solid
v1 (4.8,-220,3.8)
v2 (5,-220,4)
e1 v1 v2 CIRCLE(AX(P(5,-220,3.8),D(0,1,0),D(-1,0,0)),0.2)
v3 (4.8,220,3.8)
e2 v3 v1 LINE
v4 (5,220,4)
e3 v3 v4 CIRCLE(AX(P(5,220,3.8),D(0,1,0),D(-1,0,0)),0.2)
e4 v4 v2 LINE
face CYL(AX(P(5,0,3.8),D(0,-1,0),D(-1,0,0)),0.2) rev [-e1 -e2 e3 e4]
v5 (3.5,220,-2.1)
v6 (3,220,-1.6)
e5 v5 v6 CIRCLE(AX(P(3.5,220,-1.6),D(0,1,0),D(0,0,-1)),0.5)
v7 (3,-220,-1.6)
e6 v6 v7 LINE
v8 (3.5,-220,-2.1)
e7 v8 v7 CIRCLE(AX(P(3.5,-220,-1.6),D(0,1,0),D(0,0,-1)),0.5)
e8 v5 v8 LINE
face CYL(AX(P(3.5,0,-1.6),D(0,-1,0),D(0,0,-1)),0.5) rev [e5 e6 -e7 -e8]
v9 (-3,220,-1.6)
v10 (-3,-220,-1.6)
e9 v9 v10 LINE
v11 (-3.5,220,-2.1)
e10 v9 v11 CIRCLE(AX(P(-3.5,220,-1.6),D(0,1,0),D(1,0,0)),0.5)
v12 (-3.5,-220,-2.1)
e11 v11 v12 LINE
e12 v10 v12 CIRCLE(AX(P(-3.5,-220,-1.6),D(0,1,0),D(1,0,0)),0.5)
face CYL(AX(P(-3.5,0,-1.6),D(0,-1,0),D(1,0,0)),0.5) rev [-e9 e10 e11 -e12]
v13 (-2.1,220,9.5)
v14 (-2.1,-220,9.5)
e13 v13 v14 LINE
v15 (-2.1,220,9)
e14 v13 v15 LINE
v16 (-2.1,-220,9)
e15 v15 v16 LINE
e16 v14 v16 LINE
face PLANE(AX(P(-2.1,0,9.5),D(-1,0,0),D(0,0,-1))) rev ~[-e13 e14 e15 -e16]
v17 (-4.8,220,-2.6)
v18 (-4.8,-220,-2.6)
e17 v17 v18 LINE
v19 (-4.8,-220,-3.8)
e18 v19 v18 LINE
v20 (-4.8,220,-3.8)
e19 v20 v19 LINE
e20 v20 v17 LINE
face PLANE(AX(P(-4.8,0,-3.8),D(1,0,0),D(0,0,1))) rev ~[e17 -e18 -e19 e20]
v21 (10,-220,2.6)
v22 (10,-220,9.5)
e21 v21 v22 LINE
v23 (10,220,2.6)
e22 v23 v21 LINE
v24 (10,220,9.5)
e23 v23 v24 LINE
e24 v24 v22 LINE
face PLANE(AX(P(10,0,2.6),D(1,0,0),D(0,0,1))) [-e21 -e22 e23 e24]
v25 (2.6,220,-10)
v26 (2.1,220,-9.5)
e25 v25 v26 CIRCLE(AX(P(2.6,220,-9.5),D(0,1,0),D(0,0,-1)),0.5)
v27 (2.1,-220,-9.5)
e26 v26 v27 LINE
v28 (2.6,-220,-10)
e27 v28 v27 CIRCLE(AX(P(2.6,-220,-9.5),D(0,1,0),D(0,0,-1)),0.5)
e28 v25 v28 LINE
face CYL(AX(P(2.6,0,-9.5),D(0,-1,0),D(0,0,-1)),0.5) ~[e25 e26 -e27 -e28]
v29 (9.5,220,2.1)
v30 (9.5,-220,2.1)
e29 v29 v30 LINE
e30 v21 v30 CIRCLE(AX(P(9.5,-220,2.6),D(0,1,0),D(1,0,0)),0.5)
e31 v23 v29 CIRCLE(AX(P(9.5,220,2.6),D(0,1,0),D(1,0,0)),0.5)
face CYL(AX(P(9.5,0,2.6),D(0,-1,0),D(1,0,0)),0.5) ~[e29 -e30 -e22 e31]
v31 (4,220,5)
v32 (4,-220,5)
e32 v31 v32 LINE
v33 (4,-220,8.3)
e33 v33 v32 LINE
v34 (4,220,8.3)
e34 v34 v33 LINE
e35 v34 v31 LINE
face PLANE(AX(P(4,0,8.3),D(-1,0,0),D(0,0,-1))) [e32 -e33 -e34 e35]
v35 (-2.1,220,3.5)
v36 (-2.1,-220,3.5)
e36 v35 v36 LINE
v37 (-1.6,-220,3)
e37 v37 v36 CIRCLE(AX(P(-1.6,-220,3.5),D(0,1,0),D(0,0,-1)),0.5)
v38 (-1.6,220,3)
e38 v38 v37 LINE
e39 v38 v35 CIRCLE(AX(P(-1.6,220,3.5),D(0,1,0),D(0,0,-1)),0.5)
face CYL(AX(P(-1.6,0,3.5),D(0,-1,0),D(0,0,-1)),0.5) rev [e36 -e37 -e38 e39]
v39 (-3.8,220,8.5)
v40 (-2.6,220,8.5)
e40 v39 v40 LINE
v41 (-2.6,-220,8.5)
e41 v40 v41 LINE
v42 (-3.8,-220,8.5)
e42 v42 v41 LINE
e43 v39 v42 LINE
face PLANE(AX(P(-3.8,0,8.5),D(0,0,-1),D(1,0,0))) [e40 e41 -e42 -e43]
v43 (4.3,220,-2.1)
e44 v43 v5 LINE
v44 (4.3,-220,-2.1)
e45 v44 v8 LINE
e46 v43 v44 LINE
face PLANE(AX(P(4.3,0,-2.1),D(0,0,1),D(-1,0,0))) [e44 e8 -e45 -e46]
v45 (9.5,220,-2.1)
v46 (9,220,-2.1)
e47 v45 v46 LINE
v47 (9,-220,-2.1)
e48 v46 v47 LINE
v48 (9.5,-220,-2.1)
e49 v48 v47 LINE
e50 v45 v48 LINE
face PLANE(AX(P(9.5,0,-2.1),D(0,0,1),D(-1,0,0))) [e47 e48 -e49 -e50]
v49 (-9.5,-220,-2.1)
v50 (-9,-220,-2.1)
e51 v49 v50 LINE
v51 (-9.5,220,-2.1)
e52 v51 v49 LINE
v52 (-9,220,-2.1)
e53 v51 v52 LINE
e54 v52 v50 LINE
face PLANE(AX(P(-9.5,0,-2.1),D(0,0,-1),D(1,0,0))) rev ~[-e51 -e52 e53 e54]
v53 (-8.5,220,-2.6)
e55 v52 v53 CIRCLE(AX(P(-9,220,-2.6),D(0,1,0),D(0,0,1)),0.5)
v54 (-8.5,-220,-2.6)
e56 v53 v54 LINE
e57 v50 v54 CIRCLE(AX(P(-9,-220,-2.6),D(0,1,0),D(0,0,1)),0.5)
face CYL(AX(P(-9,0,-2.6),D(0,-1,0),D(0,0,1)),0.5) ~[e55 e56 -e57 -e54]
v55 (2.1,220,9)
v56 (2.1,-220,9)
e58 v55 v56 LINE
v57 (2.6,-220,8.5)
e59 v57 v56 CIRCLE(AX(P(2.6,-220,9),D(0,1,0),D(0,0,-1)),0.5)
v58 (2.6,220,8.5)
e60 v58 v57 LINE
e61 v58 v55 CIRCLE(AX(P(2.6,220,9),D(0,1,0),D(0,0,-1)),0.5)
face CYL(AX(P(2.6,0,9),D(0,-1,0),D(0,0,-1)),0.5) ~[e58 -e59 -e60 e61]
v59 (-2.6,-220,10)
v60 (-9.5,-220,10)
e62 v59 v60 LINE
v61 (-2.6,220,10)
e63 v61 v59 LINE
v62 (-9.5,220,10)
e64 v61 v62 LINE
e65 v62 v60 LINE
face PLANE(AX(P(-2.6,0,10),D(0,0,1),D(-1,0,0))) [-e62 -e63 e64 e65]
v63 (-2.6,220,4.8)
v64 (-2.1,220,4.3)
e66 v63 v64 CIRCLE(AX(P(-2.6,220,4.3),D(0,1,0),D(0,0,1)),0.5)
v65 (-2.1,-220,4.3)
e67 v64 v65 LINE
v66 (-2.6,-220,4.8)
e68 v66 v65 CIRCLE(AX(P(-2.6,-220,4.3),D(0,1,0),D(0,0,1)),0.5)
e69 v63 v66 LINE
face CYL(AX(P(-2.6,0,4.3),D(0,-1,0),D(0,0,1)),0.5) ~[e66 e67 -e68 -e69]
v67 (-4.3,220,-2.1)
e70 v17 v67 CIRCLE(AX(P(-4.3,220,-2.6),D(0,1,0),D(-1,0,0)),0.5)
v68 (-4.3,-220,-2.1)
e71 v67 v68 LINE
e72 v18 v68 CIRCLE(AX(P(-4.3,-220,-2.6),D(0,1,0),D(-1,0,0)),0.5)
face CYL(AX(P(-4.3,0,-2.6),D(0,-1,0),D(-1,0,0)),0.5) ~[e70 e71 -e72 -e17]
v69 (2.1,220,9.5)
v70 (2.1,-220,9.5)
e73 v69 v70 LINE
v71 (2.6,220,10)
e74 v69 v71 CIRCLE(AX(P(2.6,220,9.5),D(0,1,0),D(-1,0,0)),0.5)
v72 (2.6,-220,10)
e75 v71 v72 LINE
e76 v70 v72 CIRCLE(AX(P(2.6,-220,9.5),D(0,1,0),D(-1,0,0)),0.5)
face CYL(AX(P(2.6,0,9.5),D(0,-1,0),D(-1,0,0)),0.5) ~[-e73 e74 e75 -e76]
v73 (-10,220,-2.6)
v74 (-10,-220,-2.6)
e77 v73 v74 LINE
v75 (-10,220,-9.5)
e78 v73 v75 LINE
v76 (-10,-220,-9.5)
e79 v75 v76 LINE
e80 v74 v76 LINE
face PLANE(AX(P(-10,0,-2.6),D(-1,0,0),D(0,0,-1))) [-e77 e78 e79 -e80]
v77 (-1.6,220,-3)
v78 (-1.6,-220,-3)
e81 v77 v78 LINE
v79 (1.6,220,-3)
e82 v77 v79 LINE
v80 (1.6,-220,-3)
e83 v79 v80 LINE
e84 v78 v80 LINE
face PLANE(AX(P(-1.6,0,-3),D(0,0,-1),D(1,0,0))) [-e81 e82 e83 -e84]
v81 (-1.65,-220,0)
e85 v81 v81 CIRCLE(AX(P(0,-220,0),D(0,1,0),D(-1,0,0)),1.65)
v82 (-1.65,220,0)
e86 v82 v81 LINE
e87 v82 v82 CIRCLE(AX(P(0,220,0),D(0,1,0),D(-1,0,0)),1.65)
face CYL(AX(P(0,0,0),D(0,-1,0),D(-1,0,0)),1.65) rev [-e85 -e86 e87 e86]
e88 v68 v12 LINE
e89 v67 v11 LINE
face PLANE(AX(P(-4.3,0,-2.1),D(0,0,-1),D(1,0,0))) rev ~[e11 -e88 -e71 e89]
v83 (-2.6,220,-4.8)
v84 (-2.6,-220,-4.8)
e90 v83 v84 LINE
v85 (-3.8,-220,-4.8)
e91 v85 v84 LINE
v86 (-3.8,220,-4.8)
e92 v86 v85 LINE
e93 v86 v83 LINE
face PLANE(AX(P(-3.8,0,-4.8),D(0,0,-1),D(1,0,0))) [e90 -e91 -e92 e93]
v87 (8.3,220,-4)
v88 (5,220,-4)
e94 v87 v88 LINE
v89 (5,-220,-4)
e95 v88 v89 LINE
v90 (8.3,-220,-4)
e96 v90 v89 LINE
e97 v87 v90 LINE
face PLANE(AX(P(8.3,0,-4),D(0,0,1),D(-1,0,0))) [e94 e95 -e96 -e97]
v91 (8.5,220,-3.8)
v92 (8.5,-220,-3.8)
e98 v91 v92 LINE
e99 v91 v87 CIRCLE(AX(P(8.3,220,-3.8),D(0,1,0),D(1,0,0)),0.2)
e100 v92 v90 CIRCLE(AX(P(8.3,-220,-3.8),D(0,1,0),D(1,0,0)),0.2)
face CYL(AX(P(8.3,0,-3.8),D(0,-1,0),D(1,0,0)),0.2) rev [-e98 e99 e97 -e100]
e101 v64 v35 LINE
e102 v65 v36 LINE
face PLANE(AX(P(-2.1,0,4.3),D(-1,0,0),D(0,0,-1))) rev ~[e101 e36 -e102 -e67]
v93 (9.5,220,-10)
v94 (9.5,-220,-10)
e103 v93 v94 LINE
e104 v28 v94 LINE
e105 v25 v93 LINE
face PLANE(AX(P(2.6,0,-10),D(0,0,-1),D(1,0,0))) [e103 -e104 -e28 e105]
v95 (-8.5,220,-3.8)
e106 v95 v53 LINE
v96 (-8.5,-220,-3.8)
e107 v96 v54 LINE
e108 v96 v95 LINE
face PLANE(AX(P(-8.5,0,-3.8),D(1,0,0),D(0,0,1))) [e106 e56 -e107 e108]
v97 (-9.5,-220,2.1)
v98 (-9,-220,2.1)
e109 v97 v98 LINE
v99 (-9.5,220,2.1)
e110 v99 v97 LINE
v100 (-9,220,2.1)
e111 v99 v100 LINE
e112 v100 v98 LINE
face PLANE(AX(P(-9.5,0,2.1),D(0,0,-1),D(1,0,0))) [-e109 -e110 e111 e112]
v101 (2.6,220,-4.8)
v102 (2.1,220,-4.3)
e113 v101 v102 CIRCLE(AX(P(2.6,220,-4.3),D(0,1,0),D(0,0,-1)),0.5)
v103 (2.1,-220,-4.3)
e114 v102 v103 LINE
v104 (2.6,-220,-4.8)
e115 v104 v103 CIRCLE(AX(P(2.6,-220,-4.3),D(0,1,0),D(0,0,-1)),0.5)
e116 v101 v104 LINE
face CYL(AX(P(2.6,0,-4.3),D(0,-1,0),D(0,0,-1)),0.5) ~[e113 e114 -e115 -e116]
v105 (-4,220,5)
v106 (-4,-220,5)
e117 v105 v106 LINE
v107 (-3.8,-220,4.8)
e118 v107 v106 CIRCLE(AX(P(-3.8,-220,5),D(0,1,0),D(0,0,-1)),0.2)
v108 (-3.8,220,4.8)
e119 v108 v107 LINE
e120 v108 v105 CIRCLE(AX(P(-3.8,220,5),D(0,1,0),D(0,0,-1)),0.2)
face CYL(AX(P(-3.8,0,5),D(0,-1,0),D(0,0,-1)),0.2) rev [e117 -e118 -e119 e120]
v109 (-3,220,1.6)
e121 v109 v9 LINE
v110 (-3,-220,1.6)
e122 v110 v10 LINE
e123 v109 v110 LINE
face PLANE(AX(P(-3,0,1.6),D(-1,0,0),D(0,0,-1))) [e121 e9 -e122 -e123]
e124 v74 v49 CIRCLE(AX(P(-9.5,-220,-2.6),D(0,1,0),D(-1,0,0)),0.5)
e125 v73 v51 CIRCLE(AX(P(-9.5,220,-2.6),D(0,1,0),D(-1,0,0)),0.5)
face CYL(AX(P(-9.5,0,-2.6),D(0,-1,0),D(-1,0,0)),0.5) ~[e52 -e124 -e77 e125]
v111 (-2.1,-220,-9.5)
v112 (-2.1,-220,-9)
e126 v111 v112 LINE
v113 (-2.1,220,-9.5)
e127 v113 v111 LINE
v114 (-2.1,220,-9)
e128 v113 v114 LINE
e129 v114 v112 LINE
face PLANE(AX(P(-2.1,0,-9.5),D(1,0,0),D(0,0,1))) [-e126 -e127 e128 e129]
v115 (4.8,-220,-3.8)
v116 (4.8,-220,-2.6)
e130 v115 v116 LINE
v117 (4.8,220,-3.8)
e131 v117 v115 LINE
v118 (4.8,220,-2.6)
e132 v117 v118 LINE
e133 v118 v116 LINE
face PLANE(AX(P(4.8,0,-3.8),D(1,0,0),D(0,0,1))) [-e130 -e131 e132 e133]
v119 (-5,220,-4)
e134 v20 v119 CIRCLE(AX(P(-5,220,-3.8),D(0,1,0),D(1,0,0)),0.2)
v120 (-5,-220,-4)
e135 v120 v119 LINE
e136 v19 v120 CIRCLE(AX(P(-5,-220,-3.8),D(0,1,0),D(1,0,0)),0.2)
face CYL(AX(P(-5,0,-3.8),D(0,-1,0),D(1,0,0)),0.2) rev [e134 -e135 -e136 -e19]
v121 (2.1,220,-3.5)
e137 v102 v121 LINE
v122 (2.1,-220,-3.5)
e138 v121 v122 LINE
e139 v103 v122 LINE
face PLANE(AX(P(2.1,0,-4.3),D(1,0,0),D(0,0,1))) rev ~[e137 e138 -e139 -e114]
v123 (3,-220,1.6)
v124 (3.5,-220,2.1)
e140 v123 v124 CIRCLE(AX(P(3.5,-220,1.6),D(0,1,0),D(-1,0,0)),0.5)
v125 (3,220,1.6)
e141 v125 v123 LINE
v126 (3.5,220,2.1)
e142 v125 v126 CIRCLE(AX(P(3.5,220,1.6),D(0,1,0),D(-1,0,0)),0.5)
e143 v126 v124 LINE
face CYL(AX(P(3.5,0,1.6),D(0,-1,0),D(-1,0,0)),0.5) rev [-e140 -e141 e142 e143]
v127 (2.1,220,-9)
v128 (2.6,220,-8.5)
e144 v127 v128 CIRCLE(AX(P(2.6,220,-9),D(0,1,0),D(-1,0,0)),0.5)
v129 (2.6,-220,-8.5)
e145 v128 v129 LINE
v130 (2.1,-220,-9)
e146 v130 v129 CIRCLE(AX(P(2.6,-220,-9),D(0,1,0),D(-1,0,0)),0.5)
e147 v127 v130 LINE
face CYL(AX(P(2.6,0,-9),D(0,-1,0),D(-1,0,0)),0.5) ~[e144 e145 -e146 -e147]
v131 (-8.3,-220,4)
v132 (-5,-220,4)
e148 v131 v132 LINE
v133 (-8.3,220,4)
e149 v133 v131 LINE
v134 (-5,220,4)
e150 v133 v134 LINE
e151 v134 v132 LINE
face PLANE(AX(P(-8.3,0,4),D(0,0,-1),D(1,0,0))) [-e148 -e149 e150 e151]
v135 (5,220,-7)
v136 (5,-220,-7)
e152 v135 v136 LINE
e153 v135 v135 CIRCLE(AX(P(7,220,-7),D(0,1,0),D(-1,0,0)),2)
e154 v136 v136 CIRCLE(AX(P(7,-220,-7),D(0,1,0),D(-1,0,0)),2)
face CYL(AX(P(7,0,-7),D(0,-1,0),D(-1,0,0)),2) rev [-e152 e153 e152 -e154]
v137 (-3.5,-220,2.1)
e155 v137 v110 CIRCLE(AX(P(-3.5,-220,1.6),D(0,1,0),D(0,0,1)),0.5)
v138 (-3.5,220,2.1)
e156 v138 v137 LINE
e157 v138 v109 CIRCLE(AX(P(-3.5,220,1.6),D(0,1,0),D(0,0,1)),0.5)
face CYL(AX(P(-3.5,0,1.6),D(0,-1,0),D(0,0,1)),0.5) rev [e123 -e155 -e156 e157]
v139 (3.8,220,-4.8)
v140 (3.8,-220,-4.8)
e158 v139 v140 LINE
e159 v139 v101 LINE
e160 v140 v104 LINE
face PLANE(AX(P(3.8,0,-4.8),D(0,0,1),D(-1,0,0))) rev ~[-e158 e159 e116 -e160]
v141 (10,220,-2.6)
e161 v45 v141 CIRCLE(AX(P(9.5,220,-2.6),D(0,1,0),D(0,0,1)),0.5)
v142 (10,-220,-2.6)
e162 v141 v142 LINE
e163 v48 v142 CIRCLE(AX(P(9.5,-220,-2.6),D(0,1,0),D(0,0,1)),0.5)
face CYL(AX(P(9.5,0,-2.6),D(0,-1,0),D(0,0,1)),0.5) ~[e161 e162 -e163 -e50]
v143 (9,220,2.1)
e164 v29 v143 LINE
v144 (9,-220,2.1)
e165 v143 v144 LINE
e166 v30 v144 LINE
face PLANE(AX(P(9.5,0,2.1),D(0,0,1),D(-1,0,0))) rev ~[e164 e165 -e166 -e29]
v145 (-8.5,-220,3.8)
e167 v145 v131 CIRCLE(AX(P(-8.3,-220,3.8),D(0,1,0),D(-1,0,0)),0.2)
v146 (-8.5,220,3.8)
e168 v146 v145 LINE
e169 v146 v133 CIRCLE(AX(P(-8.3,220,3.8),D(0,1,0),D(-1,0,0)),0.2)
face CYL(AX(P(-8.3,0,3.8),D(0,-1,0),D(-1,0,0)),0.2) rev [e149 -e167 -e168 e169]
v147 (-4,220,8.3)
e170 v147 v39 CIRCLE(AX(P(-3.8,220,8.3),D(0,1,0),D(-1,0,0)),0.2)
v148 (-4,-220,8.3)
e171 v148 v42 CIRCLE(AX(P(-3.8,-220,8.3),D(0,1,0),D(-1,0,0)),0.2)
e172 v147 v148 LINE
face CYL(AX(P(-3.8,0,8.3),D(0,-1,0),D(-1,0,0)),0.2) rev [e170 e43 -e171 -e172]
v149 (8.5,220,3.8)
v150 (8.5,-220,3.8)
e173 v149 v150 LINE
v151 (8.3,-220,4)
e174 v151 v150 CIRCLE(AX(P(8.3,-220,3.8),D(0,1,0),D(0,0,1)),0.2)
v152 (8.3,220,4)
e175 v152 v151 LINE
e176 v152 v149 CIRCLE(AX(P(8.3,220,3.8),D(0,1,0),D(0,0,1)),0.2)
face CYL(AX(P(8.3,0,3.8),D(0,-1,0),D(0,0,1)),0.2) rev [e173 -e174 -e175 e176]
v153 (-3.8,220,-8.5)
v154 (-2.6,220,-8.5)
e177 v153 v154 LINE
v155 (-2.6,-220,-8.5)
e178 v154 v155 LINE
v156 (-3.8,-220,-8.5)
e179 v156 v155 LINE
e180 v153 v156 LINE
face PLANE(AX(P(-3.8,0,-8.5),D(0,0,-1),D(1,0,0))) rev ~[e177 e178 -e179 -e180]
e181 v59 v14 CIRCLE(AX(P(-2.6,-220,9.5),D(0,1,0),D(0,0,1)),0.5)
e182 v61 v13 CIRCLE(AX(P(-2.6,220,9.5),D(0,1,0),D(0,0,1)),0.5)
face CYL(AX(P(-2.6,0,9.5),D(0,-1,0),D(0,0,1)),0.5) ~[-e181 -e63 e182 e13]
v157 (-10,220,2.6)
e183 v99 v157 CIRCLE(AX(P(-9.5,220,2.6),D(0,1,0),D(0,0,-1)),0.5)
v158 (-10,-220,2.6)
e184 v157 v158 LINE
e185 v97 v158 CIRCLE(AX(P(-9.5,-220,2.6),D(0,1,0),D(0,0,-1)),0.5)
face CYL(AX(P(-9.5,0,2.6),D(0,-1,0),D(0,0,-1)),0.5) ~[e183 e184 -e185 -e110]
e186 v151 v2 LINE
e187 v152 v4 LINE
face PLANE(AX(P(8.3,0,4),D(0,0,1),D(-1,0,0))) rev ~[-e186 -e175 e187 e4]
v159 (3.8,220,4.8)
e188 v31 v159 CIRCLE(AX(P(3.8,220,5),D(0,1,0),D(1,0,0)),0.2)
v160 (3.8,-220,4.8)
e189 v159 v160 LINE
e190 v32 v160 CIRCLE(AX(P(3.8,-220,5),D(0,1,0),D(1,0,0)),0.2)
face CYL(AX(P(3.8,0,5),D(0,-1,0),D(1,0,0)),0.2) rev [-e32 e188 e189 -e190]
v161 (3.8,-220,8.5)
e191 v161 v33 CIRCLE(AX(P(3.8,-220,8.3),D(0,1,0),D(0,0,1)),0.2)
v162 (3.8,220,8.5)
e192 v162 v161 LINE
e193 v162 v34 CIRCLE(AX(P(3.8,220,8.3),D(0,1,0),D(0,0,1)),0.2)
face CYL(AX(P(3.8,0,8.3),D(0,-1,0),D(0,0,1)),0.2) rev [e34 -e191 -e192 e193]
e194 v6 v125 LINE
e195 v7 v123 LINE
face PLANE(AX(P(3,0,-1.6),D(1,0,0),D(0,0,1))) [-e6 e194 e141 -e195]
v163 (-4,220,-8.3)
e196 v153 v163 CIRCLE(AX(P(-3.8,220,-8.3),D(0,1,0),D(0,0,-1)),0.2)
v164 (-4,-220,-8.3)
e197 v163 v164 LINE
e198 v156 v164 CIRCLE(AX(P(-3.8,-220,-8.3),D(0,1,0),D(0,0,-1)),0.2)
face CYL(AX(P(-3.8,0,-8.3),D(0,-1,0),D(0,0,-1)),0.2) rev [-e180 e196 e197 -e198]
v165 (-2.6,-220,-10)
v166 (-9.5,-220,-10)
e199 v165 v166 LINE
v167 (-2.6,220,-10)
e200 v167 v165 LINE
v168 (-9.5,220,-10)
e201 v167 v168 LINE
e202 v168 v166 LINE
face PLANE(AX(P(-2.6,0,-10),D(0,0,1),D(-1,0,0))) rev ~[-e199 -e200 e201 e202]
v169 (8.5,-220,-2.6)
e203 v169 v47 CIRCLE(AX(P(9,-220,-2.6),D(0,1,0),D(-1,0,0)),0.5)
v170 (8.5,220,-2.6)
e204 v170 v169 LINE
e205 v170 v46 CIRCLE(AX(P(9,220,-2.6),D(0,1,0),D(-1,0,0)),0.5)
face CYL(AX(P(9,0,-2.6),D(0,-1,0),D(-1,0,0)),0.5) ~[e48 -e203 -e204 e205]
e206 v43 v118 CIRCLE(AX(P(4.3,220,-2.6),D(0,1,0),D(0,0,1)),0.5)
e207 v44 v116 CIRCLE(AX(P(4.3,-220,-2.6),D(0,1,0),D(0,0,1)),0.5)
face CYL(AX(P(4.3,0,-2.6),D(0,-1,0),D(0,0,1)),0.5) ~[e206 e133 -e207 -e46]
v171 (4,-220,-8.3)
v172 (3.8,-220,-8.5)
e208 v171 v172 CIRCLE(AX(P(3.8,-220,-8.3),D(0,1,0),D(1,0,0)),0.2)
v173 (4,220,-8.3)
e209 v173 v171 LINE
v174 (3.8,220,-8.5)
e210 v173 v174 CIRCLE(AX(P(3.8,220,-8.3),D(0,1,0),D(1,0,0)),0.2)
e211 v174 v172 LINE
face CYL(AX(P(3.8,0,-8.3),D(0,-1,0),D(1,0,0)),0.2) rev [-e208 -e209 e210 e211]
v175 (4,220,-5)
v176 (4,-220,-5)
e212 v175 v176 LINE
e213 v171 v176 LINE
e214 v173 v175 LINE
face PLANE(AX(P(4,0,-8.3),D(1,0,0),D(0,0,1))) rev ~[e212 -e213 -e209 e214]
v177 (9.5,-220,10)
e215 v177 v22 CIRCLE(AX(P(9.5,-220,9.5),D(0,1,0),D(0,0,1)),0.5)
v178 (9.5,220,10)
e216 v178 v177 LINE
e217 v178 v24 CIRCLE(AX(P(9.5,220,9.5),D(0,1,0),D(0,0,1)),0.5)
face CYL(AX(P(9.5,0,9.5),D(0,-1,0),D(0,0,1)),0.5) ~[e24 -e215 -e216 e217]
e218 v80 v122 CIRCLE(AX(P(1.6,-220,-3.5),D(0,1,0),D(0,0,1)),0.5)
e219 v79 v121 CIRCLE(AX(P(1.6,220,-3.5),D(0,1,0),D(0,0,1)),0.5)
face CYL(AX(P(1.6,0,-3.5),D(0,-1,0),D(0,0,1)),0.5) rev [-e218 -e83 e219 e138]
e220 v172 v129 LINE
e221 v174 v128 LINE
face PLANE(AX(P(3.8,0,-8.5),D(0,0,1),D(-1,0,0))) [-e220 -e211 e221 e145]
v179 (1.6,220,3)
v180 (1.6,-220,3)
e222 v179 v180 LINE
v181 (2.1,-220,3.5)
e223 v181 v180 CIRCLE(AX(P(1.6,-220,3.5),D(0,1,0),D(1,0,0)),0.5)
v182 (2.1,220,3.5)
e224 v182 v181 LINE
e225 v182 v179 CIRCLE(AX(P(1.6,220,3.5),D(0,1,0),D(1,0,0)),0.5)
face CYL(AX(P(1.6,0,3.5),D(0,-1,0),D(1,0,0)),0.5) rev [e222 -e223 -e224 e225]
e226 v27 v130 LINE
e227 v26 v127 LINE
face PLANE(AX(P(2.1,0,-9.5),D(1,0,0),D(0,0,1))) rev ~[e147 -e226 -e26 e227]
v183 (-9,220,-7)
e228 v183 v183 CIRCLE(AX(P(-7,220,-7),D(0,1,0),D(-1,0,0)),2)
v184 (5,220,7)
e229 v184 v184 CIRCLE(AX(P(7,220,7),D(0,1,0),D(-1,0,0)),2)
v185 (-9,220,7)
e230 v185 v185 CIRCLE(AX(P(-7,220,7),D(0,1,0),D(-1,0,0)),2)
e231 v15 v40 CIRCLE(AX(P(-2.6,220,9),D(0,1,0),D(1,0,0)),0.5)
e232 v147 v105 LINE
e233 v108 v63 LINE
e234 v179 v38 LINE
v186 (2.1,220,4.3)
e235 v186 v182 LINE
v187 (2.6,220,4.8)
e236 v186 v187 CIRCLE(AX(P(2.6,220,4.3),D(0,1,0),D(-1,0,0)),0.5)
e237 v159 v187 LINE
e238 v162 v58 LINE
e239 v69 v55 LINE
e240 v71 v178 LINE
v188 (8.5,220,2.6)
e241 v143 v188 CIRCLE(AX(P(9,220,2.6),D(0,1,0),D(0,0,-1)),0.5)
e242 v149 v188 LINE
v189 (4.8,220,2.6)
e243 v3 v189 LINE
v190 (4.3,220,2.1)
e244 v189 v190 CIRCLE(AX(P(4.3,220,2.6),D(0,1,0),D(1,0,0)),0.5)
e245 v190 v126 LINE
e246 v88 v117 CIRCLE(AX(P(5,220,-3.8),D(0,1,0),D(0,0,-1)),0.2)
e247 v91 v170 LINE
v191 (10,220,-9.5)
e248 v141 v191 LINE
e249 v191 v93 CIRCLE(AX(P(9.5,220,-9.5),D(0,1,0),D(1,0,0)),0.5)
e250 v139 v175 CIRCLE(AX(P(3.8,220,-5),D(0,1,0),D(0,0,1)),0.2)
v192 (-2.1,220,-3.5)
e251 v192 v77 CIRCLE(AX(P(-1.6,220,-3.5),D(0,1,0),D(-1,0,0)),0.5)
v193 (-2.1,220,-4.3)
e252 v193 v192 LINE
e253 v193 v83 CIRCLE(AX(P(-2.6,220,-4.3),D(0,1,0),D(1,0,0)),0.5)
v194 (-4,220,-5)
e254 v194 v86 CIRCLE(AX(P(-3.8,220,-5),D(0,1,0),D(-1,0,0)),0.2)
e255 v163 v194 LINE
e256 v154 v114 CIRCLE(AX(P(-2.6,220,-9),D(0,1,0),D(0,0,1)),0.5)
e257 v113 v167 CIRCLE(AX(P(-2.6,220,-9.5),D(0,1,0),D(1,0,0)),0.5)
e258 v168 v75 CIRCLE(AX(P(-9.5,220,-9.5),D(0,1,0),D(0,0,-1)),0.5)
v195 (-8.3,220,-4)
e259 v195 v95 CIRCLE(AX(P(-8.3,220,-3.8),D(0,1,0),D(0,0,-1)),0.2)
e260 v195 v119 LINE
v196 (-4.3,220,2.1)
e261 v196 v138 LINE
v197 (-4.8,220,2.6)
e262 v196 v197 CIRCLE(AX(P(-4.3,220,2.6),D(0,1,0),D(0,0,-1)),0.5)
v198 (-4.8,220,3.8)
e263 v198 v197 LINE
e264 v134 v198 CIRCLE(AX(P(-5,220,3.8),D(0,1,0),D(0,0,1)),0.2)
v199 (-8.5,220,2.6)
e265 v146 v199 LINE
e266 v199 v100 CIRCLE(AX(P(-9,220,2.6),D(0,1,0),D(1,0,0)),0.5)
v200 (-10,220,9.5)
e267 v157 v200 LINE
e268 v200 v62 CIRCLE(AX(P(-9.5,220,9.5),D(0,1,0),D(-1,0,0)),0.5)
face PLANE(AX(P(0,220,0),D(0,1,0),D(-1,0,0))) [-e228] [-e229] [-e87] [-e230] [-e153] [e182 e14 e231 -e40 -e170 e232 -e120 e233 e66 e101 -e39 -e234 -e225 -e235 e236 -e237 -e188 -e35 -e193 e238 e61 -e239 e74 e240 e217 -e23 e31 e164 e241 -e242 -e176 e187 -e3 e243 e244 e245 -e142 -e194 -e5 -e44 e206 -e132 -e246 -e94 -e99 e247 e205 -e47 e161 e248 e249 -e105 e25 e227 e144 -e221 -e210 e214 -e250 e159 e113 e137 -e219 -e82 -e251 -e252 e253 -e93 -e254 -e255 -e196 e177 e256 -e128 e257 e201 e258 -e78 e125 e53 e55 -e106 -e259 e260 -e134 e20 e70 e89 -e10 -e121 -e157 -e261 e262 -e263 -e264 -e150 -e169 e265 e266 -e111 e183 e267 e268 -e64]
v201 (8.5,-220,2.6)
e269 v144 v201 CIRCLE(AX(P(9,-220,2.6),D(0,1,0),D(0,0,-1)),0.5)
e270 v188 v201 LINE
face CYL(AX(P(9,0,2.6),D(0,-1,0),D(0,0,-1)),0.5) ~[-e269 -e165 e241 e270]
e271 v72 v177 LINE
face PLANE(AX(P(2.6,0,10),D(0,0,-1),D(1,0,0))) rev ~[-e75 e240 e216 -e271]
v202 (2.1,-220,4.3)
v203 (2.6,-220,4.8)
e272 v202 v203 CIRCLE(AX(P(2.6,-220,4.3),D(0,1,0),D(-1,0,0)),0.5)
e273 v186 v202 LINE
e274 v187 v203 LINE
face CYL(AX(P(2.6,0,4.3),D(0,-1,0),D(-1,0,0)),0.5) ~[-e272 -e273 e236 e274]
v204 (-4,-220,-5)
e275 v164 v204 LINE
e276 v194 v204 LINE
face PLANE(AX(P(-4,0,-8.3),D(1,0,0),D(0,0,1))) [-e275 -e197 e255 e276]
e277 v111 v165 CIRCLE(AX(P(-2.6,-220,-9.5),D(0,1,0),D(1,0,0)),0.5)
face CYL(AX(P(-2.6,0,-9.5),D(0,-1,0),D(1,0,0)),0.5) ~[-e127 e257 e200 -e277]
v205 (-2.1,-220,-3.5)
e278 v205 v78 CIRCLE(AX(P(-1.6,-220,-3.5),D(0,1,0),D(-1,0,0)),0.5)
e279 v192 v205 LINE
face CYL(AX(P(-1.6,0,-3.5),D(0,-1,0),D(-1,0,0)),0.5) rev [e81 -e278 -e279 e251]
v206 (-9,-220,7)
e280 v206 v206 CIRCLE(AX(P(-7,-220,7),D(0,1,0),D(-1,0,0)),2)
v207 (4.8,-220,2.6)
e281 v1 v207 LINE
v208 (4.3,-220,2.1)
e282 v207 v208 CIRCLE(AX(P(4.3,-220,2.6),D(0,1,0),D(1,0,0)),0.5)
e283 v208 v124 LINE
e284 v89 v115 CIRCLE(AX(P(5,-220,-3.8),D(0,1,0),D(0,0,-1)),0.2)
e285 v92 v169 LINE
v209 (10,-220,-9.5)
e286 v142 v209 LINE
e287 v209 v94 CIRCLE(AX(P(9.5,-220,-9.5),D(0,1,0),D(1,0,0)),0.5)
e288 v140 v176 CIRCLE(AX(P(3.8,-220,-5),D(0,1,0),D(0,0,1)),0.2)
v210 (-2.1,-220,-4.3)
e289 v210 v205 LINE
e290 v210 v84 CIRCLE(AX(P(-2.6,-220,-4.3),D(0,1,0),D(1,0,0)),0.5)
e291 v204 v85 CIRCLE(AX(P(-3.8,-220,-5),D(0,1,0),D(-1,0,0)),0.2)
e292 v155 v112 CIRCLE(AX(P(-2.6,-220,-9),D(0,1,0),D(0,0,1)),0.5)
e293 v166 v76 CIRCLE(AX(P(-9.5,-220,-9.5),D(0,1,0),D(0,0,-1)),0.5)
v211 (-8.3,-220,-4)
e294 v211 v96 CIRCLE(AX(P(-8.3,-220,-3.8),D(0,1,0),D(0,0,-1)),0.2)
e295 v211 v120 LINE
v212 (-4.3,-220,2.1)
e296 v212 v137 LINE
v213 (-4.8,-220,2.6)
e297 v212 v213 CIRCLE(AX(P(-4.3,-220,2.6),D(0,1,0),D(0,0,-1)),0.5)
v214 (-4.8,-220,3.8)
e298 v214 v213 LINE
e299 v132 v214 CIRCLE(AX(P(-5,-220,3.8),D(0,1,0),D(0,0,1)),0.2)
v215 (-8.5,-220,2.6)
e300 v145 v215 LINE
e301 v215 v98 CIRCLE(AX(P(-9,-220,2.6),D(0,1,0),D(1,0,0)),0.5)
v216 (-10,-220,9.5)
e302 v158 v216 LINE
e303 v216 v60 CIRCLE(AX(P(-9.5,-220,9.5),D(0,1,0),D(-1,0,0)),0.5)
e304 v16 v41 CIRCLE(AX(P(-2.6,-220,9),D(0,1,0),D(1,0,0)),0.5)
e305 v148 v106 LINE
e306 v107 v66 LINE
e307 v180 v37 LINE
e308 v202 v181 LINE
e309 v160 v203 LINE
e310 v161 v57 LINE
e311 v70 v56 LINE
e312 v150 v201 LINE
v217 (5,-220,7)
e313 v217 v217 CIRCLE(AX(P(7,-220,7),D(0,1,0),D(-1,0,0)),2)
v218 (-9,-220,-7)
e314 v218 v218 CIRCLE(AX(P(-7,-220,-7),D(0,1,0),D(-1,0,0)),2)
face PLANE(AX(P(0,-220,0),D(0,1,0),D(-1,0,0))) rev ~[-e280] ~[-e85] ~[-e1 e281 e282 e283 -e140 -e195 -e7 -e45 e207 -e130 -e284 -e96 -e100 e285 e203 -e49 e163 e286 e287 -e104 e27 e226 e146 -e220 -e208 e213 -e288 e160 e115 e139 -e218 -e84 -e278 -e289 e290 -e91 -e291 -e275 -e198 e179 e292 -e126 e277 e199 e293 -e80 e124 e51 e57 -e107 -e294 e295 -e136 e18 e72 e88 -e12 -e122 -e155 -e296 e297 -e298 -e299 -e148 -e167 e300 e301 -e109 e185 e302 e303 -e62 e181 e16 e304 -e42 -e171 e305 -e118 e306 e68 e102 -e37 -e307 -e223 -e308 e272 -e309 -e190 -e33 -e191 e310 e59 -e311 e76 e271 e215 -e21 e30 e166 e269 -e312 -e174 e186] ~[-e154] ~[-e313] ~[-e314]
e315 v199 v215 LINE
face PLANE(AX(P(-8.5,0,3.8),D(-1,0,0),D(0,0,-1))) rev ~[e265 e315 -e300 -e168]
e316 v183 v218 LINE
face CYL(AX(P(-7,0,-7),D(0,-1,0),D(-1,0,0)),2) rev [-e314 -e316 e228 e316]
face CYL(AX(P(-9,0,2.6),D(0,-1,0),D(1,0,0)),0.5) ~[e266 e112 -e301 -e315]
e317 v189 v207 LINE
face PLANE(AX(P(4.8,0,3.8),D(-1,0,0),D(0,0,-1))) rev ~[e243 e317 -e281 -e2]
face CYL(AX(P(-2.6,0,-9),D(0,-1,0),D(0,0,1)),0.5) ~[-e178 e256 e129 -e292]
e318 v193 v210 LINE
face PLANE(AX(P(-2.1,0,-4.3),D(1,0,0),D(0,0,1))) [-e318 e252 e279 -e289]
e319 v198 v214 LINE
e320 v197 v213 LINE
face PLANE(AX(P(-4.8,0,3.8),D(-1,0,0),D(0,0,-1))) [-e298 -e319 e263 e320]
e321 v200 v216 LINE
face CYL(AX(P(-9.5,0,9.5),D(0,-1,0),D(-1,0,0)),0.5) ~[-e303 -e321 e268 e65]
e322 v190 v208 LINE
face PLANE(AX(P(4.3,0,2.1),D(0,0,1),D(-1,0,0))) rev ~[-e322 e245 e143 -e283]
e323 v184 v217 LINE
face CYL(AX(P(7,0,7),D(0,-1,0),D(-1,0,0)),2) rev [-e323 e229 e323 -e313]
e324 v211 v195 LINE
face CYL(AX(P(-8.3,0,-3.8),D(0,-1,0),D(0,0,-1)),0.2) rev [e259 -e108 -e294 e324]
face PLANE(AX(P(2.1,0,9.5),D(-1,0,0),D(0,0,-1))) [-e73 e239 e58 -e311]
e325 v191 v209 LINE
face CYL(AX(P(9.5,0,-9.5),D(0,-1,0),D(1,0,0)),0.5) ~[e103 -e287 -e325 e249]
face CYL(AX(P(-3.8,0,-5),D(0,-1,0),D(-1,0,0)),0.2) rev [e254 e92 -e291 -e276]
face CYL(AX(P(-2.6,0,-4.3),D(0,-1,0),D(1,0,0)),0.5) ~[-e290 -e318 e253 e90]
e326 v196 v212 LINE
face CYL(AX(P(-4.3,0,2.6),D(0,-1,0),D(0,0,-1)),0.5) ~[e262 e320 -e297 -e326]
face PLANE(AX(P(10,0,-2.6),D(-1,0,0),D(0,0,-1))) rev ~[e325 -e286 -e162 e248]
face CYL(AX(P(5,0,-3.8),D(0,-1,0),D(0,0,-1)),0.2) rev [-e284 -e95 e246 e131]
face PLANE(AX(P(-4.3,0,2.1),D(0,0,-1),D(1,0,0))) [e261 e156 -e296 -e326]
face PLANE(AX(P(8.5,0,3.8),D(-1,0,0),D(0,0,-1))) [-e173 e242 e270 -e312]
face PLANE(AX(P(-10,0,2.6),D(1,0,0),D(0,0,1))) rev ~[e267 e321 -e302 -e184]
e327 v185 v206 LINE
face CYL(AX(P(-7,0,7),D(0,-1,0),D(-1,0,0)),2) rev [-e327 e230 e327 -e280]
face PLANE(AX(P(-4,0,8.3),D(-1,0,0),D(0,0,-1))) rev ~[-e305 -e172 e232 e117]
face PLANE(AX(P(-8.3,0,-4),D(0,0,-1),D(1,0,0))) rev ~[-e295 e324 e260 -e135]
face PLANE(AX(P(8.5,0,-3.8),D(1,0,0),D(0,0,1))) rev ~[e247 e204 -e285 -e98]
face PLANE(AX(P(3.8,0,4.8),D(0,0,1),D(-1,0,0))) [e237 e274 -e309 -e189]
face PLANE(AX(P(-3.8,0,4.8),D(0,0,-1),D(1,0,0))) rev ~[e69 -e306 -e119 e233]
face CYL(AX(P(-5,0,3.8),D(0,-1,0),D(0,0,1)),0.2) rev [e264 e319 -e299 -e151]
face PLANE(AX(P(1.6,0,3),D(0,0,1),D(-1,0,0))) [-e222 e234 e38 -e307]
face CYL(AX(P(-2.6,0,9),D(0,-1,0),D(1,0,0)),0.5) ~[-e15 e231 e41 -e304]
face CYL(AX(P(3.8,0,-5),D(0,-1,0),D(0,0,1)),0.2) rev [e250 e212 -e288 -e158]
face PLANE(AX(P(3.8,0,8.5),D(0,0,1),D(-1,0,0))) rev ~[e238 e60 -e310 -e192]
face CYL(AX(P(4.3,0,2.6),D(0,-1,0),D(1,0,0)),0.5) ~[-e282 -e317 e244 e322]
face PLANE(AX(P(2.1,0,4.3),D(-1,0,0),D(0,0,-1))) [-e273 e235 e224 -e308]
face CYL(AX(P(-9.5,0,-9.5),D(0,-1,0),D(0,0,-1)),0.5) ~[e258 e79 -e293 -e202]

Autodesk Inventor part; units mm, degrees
ref_plane "YZ Plane" through (0, 0, 0) normal (1, 0, 0) x (0, 1, 0)
ref_plane "XZ Plane" through (0, 0, 0) normal (0, 1, 0) x (-1, 0, 0)
ref_plane "XY Plane" through (0, 0, 0) normal (0, 0, 1) x (1, 0, 0)
sketch "スケッチ" plane through (0, 0, 0) normal (0, 1, 0) x (-1, 0, 0)
  line L0 (8.5, -3.8) -> (8.5, -2.6)
  line L1 (4, -8.3) -> (4, -5)
  circle A0 centre (7, -7) radius 2
  line L2 (10, -2.6) -> (10, -9.5)
  line L3 (2.6, -10) -> (9.5, -10)
  line L4 (2.1, -9.5) -> (2.1, -9)
  line L5 (8.5, -2.1) -> (8.5, -4)
  line L6 (3.8, -4.8) -> (2.6, -4.8)
  line L7 (4.8, -3.8) -> (4.8, -2.6)
  arc A1 (2.1, -4.3) -> (2.6, -4.8) centre (2.6, -4.3) ccw
  arc A2 (2.6, -8.5) -> (2.1, -9) centre (2.6, -9) ccw
  arc A3 (3.8, -8.5) -> (4, -8.3) centre (3.8, -8.3) ccw
  arc A4 (4, -5) -> (3.8, -4.8) centre (3.8, -5) ccw
  arc A5 (2.1, -3.5) -> (1.6, -3) centre (1.6, -3.5) ccw
  arc A6 (2.1, -9.5) -> (2.6, -10) centre (2.6, -9.5) ccw
  arc A7 (9.5, -10) -> (10, -9.5) centre (9.5, -9.5) ccw
  arc A8 (10, -2.6) -> (9.5, -2.1) centre (9.5, -2.6) ccw
  arc A9 (9, -2.1) -> (8.5, -2.6) centre (9, -2.6) ccw
  arc A10 (8.3, -4) -> (8.5, -3.8) centre (8.3, -3.8) ccw
  arc A11 (4.8, -3.8) -> (5, -4) centre (5, -3.8) ccw
  line L8 (4.3, -2.1) -> (3.5, -2.1)
  arc A12 (4.8, -2.6) -> (4.3, -2.1) centre (4.3, -2.6) ccw
  arc A13 (3, -1.6) -> (3.5, -2.1) centre (3.5, -1.6) ccw
  line L9 (2.1, -4.3) -> (2.1, -3.5)
  line L10 (3.8, -8.5) -> (2.6, -8.5)
  line L11 (9.5, -2.1) -> (9, -2.1)
  line L12 (8.3, -4) -> (5, -4)
  circle A14 centre (0, 0) radius 1.65
  arc A15 (8.5, 2.6) -> (9, 2.1) centre (9, 2.6) ccw
  line L13 (8.5, 3.8) -> (8.5, 2.6)
  arc A16 (8.5, 3.8) -> (8.3, 4) centre (8.3, 3.8) ccw
  line L14 (8.3, 4) -> (5, 4)
  line L15 (10, 2.6) -> (10, 9.5)
  arc A17 (10, 9.5) -> (9.5, 10) centre (9.5, 9.5) ccw
  circle A18 centre (7, 7) radius 2
  line L16 (4, 8.3) -> (4, 5)
  line L17 (2.6, 10) -> (9.5, 10)
  line L18 (9.5, 2.1) -> (9, 2.1)
  arc A19 (9.5, 2.1) -> (10, 2.6) centre (9.5, 2.6) ccw
  line L19 (3.8, 8.5) -> (2.6, 8.5)
  line L20 (4.8, 3.8) -> (4.8, 2.6)
  arc A20 (4.3, 2.1) -> (4.8, 2.6) centre (4.3, 2.6) ccw
  line L21 (2.1, 8.5) -> (4, 8.5)
  arc A21 (4, 8.3) -> (3.8, 8.5) centre (3.8, 8.3) ccw
  arc A22 (2.1, 9) -> (2.6, 8.5) centre (2.6, 9) ccw
  arc A23 (2.6, 10) -> (2.1, 9.5) centre (2.6, 9.5) ccw
  line L22 (2.1, 9.5) -> (2.1, 9)
  arc A24 (1.6, 3) -> (2.1, 3.5) centre (1.6, 3.5) ccw
  line L23 (3.8, 4.8) -> (2.6, 4.8)
  arc A25 (5, 4) -> (4.8, 3.8) centre (5, 3.8) ccw
  arc A26 (3.8, 4.8) -> (4, 5) centre (3.8, 5) ccw
  line L24 (4.3, 2.1) -> (3.5, 2.1)
  arc A27 (2.6, 4.8) -> (2.1, 4.3) centre (2.6, 4.3) ccw
  line L25 (2.1, 4.3) -> (2.1, 3.5)
  arc A28 (3.5, 2.1) -> (3, 1.6) centre (3.5, 1.6) ccw
  arc A29 (-2.6, 8.5) -> (-2.1, 9) centre (-2.6, 9) ccw
  line L26 (-3.8, 8.5) -> (-2.6, 8.5)
  arc A30 (-3.8, 8.5) -> (-4, 8.3) centre (-3.8, 8.3) ccw
  line L27 (-4, 8.3) -> (-4, 5)
  line L28 (-2.6, 10) -> (-9.5, 10)
  arc A31 (-9.5, 10) -> (-10, 9.5) centre (-9.5, 9.5) ccw
  circle A32 centre (-7, 7) radius 2
  line L29 (-8.3, 4) -> (-5, 4)
  line L30 (-10, 2.6) -> (-10, 9.5)
  line L31 (-2.1, 9.5) -> (-2.1, 9)
  arc A33 (-2.1, 9.5) -> (-2.6, 10) centre (-2.6, 9.5) ccw
  line L32 (-8.5, 3.8) -> (-8.5, 2.6)
  line L33 (-3.8, 4.8) -> (-2.6, 4.8)
  arc A34 (-2.1, 4.3) -> (-2.6, 4.8) centre (-2.6, 4.3) ccw
  line L34 (-8.5, 2.1) -> (-8.5, 4)
  arc A35 (-8.3, 4) -> (-8.5, 3.8) centre (-8.3, 3.8) ccw
  arc A36 (-9, 2.1) -> (-8.5, 2.6) centre (-9, 2.6) ccw
  arc A37 (-10, 2.6) -> (-9.5, 2.1) centre (-9.5, 2.6) ccw
  line L35 (-9.5, 2.1) -> (-9, 2.1)
  arc A38 (-3, 1.6) -> (-3.5, 2.1) centre (-3.5, 1.6) ccw
  line L36 (-4.8, 3.8) -> (-4.8, 2.6)
  arc A39 (-4, 5) -> (-3.8, 4.8) centre (-3.8, 5) ccw
  arc A40 (-4.8, 3.8) -> (-5, 4) centre (-5, 3.8) ccw
  line L37 (-2.1, 4.3) -> (-2.1, 3.5)
  arc A41 (-4.8, 2.6) -> (-4.3, 2.1) centre (-4.3, 2.6) ccw
  line L38 (-4.3, 2.1) -> (-3.5, 2.1)
  arc A42 (-2.1, 3.5) -> (-1.6, 3) centre (-1.6, 3.5) ccw
  arc A43 (-8.5, -2.6) -> (-9, -2.1) centre (-9, -2.6) ccw
  line L39 (-8.5, -3.8) -> (-8.5, -2.6)
  arc A44 (-8.5, -3.8) -> (-8.3, -4) centre (-8.3, -3.8) ccw
  line L40 (-8.3, -4) -> (-5, -4)
  line L41 (-10, -2.6) -> (-10, -9.5)
  arc A45 (-10, -9.5) -> (-9.5, -10) centre (-9.5, -9.5) ccw
  circle A46 centre (-7, -7) radius 2
  line L42 (-4, -8.3) -> (-4, -5)
  line L43 (-2.6, -10) -> (-9.5, -10)
  line L44 (-9.5, -2.1) -> (-9, -2.1)
  arc A47 (-9.5, -2.1) -> (-10, -2.6) centre (-9.5, -2.6) ccw
  line L45 (-3.8, -8.5) -> (-2.6, -8.5)
  line L46 (-4.8, -3.8) -> (-4.8, -2.6)
  arc A48 (-4.3, -2.1) -> (-4.8, -2.6) centre (-4.3, -2.6) ccw
  line L47 (-2.1, -8.5) -> (-4, -8.5)
  arc A49 (-4, -8.3) -> (-3.8, -8.5) centre (-3.8, -8.3) ccw
  arc A50 (-2.1, -9) -> (-2.6, -8.5) centre (-2.6, -9) ccw
  arc A51 (-2.6, -10) -> (-2.1, -9.5) centre (-2.6, -9.5) ccw
  line L48 (-2.1, -9.5) -> (-2.1, -9)
  arc A52 (-1.6, -3) -> (-2.1, -3.5) centre (-1.6, -3.5) ccw
  line L49 (-3.8, -4.8) -> (-2.6, -4.8)
  arc A53 (-5, -4) -> (-4.8, -3.8) centre (-5, -3.8) ccw
  arc A54 (-3.8, -4.8) -> (-4, -5) centre (-3.8, -5) ccw
  line L50 (-4.3, -2.1) -> (-3.5, -2.1)
  arc A55 (-2.6, -4.8) -> (-2.1, -4.3) centre (-2.6, -4.3) ccw
  line L51 (-2.1, -4.3) -> (-2.1, -3.5)
  arc A56 (-3.5, -2.1) -> (-3, -1.6) centre (-3.5, -1.6) ccw
  line L52 (1.6, -3) -> (-1.6, -3)
  line L53 (-3, -1.6) -> (-3, 1.6)
  line L54 (-1.6, 3) -> (1.6, 3)
  line L55 (3, 1.6) -> (3, -1.6)
  point P0 (2.1, -10)
  point P1 (10, 2.1)
  point P2 (-2.1, 10)
  point P3 (-10, -2.1)
  dimension "d12" = 4
  dimension "d14" = 3.7
  dimension "d16" = 0.5
  dimension "d17" = 0.5
  dimension "d18" = 0.2
  dimension "d19" = 0.5
  dimension "d20" = 0.5
  dimension "d24" = 0.5
  dimension "d25" = 0.2
  dimension "d28" = 0.5
  dimension "d31" = 1.5
  dimension "d36" = 3.7
  dimension "d37" = 1.5
  dimension "d58" = 3.3
  dimension "d65" = 10
  dimension "d67" = 2.1
  dimension "d68" = 2.1
  dimension "d69" = 1.9
  dimension "d70" = 7
  dimension "d72" = 2.1
  dimension "d73" = 2.1
  dimension "d74" = 1.9
  dimension "d75" = 7
  dimension "d76" = 10
  dimension "d80" = 360
  dimension "d82" = 3
extrude "ボディ" add sketch "スケッチ" along normal mid plane 440
equation "\"G_OFFSET_START\" = 0"
equation "\"G_OFFSET_END\" = 0"
equation "\"G_L\" = d90"
equation "\"d90\" = 330"
properties part number "s440" material "アルミニウム 6061"
